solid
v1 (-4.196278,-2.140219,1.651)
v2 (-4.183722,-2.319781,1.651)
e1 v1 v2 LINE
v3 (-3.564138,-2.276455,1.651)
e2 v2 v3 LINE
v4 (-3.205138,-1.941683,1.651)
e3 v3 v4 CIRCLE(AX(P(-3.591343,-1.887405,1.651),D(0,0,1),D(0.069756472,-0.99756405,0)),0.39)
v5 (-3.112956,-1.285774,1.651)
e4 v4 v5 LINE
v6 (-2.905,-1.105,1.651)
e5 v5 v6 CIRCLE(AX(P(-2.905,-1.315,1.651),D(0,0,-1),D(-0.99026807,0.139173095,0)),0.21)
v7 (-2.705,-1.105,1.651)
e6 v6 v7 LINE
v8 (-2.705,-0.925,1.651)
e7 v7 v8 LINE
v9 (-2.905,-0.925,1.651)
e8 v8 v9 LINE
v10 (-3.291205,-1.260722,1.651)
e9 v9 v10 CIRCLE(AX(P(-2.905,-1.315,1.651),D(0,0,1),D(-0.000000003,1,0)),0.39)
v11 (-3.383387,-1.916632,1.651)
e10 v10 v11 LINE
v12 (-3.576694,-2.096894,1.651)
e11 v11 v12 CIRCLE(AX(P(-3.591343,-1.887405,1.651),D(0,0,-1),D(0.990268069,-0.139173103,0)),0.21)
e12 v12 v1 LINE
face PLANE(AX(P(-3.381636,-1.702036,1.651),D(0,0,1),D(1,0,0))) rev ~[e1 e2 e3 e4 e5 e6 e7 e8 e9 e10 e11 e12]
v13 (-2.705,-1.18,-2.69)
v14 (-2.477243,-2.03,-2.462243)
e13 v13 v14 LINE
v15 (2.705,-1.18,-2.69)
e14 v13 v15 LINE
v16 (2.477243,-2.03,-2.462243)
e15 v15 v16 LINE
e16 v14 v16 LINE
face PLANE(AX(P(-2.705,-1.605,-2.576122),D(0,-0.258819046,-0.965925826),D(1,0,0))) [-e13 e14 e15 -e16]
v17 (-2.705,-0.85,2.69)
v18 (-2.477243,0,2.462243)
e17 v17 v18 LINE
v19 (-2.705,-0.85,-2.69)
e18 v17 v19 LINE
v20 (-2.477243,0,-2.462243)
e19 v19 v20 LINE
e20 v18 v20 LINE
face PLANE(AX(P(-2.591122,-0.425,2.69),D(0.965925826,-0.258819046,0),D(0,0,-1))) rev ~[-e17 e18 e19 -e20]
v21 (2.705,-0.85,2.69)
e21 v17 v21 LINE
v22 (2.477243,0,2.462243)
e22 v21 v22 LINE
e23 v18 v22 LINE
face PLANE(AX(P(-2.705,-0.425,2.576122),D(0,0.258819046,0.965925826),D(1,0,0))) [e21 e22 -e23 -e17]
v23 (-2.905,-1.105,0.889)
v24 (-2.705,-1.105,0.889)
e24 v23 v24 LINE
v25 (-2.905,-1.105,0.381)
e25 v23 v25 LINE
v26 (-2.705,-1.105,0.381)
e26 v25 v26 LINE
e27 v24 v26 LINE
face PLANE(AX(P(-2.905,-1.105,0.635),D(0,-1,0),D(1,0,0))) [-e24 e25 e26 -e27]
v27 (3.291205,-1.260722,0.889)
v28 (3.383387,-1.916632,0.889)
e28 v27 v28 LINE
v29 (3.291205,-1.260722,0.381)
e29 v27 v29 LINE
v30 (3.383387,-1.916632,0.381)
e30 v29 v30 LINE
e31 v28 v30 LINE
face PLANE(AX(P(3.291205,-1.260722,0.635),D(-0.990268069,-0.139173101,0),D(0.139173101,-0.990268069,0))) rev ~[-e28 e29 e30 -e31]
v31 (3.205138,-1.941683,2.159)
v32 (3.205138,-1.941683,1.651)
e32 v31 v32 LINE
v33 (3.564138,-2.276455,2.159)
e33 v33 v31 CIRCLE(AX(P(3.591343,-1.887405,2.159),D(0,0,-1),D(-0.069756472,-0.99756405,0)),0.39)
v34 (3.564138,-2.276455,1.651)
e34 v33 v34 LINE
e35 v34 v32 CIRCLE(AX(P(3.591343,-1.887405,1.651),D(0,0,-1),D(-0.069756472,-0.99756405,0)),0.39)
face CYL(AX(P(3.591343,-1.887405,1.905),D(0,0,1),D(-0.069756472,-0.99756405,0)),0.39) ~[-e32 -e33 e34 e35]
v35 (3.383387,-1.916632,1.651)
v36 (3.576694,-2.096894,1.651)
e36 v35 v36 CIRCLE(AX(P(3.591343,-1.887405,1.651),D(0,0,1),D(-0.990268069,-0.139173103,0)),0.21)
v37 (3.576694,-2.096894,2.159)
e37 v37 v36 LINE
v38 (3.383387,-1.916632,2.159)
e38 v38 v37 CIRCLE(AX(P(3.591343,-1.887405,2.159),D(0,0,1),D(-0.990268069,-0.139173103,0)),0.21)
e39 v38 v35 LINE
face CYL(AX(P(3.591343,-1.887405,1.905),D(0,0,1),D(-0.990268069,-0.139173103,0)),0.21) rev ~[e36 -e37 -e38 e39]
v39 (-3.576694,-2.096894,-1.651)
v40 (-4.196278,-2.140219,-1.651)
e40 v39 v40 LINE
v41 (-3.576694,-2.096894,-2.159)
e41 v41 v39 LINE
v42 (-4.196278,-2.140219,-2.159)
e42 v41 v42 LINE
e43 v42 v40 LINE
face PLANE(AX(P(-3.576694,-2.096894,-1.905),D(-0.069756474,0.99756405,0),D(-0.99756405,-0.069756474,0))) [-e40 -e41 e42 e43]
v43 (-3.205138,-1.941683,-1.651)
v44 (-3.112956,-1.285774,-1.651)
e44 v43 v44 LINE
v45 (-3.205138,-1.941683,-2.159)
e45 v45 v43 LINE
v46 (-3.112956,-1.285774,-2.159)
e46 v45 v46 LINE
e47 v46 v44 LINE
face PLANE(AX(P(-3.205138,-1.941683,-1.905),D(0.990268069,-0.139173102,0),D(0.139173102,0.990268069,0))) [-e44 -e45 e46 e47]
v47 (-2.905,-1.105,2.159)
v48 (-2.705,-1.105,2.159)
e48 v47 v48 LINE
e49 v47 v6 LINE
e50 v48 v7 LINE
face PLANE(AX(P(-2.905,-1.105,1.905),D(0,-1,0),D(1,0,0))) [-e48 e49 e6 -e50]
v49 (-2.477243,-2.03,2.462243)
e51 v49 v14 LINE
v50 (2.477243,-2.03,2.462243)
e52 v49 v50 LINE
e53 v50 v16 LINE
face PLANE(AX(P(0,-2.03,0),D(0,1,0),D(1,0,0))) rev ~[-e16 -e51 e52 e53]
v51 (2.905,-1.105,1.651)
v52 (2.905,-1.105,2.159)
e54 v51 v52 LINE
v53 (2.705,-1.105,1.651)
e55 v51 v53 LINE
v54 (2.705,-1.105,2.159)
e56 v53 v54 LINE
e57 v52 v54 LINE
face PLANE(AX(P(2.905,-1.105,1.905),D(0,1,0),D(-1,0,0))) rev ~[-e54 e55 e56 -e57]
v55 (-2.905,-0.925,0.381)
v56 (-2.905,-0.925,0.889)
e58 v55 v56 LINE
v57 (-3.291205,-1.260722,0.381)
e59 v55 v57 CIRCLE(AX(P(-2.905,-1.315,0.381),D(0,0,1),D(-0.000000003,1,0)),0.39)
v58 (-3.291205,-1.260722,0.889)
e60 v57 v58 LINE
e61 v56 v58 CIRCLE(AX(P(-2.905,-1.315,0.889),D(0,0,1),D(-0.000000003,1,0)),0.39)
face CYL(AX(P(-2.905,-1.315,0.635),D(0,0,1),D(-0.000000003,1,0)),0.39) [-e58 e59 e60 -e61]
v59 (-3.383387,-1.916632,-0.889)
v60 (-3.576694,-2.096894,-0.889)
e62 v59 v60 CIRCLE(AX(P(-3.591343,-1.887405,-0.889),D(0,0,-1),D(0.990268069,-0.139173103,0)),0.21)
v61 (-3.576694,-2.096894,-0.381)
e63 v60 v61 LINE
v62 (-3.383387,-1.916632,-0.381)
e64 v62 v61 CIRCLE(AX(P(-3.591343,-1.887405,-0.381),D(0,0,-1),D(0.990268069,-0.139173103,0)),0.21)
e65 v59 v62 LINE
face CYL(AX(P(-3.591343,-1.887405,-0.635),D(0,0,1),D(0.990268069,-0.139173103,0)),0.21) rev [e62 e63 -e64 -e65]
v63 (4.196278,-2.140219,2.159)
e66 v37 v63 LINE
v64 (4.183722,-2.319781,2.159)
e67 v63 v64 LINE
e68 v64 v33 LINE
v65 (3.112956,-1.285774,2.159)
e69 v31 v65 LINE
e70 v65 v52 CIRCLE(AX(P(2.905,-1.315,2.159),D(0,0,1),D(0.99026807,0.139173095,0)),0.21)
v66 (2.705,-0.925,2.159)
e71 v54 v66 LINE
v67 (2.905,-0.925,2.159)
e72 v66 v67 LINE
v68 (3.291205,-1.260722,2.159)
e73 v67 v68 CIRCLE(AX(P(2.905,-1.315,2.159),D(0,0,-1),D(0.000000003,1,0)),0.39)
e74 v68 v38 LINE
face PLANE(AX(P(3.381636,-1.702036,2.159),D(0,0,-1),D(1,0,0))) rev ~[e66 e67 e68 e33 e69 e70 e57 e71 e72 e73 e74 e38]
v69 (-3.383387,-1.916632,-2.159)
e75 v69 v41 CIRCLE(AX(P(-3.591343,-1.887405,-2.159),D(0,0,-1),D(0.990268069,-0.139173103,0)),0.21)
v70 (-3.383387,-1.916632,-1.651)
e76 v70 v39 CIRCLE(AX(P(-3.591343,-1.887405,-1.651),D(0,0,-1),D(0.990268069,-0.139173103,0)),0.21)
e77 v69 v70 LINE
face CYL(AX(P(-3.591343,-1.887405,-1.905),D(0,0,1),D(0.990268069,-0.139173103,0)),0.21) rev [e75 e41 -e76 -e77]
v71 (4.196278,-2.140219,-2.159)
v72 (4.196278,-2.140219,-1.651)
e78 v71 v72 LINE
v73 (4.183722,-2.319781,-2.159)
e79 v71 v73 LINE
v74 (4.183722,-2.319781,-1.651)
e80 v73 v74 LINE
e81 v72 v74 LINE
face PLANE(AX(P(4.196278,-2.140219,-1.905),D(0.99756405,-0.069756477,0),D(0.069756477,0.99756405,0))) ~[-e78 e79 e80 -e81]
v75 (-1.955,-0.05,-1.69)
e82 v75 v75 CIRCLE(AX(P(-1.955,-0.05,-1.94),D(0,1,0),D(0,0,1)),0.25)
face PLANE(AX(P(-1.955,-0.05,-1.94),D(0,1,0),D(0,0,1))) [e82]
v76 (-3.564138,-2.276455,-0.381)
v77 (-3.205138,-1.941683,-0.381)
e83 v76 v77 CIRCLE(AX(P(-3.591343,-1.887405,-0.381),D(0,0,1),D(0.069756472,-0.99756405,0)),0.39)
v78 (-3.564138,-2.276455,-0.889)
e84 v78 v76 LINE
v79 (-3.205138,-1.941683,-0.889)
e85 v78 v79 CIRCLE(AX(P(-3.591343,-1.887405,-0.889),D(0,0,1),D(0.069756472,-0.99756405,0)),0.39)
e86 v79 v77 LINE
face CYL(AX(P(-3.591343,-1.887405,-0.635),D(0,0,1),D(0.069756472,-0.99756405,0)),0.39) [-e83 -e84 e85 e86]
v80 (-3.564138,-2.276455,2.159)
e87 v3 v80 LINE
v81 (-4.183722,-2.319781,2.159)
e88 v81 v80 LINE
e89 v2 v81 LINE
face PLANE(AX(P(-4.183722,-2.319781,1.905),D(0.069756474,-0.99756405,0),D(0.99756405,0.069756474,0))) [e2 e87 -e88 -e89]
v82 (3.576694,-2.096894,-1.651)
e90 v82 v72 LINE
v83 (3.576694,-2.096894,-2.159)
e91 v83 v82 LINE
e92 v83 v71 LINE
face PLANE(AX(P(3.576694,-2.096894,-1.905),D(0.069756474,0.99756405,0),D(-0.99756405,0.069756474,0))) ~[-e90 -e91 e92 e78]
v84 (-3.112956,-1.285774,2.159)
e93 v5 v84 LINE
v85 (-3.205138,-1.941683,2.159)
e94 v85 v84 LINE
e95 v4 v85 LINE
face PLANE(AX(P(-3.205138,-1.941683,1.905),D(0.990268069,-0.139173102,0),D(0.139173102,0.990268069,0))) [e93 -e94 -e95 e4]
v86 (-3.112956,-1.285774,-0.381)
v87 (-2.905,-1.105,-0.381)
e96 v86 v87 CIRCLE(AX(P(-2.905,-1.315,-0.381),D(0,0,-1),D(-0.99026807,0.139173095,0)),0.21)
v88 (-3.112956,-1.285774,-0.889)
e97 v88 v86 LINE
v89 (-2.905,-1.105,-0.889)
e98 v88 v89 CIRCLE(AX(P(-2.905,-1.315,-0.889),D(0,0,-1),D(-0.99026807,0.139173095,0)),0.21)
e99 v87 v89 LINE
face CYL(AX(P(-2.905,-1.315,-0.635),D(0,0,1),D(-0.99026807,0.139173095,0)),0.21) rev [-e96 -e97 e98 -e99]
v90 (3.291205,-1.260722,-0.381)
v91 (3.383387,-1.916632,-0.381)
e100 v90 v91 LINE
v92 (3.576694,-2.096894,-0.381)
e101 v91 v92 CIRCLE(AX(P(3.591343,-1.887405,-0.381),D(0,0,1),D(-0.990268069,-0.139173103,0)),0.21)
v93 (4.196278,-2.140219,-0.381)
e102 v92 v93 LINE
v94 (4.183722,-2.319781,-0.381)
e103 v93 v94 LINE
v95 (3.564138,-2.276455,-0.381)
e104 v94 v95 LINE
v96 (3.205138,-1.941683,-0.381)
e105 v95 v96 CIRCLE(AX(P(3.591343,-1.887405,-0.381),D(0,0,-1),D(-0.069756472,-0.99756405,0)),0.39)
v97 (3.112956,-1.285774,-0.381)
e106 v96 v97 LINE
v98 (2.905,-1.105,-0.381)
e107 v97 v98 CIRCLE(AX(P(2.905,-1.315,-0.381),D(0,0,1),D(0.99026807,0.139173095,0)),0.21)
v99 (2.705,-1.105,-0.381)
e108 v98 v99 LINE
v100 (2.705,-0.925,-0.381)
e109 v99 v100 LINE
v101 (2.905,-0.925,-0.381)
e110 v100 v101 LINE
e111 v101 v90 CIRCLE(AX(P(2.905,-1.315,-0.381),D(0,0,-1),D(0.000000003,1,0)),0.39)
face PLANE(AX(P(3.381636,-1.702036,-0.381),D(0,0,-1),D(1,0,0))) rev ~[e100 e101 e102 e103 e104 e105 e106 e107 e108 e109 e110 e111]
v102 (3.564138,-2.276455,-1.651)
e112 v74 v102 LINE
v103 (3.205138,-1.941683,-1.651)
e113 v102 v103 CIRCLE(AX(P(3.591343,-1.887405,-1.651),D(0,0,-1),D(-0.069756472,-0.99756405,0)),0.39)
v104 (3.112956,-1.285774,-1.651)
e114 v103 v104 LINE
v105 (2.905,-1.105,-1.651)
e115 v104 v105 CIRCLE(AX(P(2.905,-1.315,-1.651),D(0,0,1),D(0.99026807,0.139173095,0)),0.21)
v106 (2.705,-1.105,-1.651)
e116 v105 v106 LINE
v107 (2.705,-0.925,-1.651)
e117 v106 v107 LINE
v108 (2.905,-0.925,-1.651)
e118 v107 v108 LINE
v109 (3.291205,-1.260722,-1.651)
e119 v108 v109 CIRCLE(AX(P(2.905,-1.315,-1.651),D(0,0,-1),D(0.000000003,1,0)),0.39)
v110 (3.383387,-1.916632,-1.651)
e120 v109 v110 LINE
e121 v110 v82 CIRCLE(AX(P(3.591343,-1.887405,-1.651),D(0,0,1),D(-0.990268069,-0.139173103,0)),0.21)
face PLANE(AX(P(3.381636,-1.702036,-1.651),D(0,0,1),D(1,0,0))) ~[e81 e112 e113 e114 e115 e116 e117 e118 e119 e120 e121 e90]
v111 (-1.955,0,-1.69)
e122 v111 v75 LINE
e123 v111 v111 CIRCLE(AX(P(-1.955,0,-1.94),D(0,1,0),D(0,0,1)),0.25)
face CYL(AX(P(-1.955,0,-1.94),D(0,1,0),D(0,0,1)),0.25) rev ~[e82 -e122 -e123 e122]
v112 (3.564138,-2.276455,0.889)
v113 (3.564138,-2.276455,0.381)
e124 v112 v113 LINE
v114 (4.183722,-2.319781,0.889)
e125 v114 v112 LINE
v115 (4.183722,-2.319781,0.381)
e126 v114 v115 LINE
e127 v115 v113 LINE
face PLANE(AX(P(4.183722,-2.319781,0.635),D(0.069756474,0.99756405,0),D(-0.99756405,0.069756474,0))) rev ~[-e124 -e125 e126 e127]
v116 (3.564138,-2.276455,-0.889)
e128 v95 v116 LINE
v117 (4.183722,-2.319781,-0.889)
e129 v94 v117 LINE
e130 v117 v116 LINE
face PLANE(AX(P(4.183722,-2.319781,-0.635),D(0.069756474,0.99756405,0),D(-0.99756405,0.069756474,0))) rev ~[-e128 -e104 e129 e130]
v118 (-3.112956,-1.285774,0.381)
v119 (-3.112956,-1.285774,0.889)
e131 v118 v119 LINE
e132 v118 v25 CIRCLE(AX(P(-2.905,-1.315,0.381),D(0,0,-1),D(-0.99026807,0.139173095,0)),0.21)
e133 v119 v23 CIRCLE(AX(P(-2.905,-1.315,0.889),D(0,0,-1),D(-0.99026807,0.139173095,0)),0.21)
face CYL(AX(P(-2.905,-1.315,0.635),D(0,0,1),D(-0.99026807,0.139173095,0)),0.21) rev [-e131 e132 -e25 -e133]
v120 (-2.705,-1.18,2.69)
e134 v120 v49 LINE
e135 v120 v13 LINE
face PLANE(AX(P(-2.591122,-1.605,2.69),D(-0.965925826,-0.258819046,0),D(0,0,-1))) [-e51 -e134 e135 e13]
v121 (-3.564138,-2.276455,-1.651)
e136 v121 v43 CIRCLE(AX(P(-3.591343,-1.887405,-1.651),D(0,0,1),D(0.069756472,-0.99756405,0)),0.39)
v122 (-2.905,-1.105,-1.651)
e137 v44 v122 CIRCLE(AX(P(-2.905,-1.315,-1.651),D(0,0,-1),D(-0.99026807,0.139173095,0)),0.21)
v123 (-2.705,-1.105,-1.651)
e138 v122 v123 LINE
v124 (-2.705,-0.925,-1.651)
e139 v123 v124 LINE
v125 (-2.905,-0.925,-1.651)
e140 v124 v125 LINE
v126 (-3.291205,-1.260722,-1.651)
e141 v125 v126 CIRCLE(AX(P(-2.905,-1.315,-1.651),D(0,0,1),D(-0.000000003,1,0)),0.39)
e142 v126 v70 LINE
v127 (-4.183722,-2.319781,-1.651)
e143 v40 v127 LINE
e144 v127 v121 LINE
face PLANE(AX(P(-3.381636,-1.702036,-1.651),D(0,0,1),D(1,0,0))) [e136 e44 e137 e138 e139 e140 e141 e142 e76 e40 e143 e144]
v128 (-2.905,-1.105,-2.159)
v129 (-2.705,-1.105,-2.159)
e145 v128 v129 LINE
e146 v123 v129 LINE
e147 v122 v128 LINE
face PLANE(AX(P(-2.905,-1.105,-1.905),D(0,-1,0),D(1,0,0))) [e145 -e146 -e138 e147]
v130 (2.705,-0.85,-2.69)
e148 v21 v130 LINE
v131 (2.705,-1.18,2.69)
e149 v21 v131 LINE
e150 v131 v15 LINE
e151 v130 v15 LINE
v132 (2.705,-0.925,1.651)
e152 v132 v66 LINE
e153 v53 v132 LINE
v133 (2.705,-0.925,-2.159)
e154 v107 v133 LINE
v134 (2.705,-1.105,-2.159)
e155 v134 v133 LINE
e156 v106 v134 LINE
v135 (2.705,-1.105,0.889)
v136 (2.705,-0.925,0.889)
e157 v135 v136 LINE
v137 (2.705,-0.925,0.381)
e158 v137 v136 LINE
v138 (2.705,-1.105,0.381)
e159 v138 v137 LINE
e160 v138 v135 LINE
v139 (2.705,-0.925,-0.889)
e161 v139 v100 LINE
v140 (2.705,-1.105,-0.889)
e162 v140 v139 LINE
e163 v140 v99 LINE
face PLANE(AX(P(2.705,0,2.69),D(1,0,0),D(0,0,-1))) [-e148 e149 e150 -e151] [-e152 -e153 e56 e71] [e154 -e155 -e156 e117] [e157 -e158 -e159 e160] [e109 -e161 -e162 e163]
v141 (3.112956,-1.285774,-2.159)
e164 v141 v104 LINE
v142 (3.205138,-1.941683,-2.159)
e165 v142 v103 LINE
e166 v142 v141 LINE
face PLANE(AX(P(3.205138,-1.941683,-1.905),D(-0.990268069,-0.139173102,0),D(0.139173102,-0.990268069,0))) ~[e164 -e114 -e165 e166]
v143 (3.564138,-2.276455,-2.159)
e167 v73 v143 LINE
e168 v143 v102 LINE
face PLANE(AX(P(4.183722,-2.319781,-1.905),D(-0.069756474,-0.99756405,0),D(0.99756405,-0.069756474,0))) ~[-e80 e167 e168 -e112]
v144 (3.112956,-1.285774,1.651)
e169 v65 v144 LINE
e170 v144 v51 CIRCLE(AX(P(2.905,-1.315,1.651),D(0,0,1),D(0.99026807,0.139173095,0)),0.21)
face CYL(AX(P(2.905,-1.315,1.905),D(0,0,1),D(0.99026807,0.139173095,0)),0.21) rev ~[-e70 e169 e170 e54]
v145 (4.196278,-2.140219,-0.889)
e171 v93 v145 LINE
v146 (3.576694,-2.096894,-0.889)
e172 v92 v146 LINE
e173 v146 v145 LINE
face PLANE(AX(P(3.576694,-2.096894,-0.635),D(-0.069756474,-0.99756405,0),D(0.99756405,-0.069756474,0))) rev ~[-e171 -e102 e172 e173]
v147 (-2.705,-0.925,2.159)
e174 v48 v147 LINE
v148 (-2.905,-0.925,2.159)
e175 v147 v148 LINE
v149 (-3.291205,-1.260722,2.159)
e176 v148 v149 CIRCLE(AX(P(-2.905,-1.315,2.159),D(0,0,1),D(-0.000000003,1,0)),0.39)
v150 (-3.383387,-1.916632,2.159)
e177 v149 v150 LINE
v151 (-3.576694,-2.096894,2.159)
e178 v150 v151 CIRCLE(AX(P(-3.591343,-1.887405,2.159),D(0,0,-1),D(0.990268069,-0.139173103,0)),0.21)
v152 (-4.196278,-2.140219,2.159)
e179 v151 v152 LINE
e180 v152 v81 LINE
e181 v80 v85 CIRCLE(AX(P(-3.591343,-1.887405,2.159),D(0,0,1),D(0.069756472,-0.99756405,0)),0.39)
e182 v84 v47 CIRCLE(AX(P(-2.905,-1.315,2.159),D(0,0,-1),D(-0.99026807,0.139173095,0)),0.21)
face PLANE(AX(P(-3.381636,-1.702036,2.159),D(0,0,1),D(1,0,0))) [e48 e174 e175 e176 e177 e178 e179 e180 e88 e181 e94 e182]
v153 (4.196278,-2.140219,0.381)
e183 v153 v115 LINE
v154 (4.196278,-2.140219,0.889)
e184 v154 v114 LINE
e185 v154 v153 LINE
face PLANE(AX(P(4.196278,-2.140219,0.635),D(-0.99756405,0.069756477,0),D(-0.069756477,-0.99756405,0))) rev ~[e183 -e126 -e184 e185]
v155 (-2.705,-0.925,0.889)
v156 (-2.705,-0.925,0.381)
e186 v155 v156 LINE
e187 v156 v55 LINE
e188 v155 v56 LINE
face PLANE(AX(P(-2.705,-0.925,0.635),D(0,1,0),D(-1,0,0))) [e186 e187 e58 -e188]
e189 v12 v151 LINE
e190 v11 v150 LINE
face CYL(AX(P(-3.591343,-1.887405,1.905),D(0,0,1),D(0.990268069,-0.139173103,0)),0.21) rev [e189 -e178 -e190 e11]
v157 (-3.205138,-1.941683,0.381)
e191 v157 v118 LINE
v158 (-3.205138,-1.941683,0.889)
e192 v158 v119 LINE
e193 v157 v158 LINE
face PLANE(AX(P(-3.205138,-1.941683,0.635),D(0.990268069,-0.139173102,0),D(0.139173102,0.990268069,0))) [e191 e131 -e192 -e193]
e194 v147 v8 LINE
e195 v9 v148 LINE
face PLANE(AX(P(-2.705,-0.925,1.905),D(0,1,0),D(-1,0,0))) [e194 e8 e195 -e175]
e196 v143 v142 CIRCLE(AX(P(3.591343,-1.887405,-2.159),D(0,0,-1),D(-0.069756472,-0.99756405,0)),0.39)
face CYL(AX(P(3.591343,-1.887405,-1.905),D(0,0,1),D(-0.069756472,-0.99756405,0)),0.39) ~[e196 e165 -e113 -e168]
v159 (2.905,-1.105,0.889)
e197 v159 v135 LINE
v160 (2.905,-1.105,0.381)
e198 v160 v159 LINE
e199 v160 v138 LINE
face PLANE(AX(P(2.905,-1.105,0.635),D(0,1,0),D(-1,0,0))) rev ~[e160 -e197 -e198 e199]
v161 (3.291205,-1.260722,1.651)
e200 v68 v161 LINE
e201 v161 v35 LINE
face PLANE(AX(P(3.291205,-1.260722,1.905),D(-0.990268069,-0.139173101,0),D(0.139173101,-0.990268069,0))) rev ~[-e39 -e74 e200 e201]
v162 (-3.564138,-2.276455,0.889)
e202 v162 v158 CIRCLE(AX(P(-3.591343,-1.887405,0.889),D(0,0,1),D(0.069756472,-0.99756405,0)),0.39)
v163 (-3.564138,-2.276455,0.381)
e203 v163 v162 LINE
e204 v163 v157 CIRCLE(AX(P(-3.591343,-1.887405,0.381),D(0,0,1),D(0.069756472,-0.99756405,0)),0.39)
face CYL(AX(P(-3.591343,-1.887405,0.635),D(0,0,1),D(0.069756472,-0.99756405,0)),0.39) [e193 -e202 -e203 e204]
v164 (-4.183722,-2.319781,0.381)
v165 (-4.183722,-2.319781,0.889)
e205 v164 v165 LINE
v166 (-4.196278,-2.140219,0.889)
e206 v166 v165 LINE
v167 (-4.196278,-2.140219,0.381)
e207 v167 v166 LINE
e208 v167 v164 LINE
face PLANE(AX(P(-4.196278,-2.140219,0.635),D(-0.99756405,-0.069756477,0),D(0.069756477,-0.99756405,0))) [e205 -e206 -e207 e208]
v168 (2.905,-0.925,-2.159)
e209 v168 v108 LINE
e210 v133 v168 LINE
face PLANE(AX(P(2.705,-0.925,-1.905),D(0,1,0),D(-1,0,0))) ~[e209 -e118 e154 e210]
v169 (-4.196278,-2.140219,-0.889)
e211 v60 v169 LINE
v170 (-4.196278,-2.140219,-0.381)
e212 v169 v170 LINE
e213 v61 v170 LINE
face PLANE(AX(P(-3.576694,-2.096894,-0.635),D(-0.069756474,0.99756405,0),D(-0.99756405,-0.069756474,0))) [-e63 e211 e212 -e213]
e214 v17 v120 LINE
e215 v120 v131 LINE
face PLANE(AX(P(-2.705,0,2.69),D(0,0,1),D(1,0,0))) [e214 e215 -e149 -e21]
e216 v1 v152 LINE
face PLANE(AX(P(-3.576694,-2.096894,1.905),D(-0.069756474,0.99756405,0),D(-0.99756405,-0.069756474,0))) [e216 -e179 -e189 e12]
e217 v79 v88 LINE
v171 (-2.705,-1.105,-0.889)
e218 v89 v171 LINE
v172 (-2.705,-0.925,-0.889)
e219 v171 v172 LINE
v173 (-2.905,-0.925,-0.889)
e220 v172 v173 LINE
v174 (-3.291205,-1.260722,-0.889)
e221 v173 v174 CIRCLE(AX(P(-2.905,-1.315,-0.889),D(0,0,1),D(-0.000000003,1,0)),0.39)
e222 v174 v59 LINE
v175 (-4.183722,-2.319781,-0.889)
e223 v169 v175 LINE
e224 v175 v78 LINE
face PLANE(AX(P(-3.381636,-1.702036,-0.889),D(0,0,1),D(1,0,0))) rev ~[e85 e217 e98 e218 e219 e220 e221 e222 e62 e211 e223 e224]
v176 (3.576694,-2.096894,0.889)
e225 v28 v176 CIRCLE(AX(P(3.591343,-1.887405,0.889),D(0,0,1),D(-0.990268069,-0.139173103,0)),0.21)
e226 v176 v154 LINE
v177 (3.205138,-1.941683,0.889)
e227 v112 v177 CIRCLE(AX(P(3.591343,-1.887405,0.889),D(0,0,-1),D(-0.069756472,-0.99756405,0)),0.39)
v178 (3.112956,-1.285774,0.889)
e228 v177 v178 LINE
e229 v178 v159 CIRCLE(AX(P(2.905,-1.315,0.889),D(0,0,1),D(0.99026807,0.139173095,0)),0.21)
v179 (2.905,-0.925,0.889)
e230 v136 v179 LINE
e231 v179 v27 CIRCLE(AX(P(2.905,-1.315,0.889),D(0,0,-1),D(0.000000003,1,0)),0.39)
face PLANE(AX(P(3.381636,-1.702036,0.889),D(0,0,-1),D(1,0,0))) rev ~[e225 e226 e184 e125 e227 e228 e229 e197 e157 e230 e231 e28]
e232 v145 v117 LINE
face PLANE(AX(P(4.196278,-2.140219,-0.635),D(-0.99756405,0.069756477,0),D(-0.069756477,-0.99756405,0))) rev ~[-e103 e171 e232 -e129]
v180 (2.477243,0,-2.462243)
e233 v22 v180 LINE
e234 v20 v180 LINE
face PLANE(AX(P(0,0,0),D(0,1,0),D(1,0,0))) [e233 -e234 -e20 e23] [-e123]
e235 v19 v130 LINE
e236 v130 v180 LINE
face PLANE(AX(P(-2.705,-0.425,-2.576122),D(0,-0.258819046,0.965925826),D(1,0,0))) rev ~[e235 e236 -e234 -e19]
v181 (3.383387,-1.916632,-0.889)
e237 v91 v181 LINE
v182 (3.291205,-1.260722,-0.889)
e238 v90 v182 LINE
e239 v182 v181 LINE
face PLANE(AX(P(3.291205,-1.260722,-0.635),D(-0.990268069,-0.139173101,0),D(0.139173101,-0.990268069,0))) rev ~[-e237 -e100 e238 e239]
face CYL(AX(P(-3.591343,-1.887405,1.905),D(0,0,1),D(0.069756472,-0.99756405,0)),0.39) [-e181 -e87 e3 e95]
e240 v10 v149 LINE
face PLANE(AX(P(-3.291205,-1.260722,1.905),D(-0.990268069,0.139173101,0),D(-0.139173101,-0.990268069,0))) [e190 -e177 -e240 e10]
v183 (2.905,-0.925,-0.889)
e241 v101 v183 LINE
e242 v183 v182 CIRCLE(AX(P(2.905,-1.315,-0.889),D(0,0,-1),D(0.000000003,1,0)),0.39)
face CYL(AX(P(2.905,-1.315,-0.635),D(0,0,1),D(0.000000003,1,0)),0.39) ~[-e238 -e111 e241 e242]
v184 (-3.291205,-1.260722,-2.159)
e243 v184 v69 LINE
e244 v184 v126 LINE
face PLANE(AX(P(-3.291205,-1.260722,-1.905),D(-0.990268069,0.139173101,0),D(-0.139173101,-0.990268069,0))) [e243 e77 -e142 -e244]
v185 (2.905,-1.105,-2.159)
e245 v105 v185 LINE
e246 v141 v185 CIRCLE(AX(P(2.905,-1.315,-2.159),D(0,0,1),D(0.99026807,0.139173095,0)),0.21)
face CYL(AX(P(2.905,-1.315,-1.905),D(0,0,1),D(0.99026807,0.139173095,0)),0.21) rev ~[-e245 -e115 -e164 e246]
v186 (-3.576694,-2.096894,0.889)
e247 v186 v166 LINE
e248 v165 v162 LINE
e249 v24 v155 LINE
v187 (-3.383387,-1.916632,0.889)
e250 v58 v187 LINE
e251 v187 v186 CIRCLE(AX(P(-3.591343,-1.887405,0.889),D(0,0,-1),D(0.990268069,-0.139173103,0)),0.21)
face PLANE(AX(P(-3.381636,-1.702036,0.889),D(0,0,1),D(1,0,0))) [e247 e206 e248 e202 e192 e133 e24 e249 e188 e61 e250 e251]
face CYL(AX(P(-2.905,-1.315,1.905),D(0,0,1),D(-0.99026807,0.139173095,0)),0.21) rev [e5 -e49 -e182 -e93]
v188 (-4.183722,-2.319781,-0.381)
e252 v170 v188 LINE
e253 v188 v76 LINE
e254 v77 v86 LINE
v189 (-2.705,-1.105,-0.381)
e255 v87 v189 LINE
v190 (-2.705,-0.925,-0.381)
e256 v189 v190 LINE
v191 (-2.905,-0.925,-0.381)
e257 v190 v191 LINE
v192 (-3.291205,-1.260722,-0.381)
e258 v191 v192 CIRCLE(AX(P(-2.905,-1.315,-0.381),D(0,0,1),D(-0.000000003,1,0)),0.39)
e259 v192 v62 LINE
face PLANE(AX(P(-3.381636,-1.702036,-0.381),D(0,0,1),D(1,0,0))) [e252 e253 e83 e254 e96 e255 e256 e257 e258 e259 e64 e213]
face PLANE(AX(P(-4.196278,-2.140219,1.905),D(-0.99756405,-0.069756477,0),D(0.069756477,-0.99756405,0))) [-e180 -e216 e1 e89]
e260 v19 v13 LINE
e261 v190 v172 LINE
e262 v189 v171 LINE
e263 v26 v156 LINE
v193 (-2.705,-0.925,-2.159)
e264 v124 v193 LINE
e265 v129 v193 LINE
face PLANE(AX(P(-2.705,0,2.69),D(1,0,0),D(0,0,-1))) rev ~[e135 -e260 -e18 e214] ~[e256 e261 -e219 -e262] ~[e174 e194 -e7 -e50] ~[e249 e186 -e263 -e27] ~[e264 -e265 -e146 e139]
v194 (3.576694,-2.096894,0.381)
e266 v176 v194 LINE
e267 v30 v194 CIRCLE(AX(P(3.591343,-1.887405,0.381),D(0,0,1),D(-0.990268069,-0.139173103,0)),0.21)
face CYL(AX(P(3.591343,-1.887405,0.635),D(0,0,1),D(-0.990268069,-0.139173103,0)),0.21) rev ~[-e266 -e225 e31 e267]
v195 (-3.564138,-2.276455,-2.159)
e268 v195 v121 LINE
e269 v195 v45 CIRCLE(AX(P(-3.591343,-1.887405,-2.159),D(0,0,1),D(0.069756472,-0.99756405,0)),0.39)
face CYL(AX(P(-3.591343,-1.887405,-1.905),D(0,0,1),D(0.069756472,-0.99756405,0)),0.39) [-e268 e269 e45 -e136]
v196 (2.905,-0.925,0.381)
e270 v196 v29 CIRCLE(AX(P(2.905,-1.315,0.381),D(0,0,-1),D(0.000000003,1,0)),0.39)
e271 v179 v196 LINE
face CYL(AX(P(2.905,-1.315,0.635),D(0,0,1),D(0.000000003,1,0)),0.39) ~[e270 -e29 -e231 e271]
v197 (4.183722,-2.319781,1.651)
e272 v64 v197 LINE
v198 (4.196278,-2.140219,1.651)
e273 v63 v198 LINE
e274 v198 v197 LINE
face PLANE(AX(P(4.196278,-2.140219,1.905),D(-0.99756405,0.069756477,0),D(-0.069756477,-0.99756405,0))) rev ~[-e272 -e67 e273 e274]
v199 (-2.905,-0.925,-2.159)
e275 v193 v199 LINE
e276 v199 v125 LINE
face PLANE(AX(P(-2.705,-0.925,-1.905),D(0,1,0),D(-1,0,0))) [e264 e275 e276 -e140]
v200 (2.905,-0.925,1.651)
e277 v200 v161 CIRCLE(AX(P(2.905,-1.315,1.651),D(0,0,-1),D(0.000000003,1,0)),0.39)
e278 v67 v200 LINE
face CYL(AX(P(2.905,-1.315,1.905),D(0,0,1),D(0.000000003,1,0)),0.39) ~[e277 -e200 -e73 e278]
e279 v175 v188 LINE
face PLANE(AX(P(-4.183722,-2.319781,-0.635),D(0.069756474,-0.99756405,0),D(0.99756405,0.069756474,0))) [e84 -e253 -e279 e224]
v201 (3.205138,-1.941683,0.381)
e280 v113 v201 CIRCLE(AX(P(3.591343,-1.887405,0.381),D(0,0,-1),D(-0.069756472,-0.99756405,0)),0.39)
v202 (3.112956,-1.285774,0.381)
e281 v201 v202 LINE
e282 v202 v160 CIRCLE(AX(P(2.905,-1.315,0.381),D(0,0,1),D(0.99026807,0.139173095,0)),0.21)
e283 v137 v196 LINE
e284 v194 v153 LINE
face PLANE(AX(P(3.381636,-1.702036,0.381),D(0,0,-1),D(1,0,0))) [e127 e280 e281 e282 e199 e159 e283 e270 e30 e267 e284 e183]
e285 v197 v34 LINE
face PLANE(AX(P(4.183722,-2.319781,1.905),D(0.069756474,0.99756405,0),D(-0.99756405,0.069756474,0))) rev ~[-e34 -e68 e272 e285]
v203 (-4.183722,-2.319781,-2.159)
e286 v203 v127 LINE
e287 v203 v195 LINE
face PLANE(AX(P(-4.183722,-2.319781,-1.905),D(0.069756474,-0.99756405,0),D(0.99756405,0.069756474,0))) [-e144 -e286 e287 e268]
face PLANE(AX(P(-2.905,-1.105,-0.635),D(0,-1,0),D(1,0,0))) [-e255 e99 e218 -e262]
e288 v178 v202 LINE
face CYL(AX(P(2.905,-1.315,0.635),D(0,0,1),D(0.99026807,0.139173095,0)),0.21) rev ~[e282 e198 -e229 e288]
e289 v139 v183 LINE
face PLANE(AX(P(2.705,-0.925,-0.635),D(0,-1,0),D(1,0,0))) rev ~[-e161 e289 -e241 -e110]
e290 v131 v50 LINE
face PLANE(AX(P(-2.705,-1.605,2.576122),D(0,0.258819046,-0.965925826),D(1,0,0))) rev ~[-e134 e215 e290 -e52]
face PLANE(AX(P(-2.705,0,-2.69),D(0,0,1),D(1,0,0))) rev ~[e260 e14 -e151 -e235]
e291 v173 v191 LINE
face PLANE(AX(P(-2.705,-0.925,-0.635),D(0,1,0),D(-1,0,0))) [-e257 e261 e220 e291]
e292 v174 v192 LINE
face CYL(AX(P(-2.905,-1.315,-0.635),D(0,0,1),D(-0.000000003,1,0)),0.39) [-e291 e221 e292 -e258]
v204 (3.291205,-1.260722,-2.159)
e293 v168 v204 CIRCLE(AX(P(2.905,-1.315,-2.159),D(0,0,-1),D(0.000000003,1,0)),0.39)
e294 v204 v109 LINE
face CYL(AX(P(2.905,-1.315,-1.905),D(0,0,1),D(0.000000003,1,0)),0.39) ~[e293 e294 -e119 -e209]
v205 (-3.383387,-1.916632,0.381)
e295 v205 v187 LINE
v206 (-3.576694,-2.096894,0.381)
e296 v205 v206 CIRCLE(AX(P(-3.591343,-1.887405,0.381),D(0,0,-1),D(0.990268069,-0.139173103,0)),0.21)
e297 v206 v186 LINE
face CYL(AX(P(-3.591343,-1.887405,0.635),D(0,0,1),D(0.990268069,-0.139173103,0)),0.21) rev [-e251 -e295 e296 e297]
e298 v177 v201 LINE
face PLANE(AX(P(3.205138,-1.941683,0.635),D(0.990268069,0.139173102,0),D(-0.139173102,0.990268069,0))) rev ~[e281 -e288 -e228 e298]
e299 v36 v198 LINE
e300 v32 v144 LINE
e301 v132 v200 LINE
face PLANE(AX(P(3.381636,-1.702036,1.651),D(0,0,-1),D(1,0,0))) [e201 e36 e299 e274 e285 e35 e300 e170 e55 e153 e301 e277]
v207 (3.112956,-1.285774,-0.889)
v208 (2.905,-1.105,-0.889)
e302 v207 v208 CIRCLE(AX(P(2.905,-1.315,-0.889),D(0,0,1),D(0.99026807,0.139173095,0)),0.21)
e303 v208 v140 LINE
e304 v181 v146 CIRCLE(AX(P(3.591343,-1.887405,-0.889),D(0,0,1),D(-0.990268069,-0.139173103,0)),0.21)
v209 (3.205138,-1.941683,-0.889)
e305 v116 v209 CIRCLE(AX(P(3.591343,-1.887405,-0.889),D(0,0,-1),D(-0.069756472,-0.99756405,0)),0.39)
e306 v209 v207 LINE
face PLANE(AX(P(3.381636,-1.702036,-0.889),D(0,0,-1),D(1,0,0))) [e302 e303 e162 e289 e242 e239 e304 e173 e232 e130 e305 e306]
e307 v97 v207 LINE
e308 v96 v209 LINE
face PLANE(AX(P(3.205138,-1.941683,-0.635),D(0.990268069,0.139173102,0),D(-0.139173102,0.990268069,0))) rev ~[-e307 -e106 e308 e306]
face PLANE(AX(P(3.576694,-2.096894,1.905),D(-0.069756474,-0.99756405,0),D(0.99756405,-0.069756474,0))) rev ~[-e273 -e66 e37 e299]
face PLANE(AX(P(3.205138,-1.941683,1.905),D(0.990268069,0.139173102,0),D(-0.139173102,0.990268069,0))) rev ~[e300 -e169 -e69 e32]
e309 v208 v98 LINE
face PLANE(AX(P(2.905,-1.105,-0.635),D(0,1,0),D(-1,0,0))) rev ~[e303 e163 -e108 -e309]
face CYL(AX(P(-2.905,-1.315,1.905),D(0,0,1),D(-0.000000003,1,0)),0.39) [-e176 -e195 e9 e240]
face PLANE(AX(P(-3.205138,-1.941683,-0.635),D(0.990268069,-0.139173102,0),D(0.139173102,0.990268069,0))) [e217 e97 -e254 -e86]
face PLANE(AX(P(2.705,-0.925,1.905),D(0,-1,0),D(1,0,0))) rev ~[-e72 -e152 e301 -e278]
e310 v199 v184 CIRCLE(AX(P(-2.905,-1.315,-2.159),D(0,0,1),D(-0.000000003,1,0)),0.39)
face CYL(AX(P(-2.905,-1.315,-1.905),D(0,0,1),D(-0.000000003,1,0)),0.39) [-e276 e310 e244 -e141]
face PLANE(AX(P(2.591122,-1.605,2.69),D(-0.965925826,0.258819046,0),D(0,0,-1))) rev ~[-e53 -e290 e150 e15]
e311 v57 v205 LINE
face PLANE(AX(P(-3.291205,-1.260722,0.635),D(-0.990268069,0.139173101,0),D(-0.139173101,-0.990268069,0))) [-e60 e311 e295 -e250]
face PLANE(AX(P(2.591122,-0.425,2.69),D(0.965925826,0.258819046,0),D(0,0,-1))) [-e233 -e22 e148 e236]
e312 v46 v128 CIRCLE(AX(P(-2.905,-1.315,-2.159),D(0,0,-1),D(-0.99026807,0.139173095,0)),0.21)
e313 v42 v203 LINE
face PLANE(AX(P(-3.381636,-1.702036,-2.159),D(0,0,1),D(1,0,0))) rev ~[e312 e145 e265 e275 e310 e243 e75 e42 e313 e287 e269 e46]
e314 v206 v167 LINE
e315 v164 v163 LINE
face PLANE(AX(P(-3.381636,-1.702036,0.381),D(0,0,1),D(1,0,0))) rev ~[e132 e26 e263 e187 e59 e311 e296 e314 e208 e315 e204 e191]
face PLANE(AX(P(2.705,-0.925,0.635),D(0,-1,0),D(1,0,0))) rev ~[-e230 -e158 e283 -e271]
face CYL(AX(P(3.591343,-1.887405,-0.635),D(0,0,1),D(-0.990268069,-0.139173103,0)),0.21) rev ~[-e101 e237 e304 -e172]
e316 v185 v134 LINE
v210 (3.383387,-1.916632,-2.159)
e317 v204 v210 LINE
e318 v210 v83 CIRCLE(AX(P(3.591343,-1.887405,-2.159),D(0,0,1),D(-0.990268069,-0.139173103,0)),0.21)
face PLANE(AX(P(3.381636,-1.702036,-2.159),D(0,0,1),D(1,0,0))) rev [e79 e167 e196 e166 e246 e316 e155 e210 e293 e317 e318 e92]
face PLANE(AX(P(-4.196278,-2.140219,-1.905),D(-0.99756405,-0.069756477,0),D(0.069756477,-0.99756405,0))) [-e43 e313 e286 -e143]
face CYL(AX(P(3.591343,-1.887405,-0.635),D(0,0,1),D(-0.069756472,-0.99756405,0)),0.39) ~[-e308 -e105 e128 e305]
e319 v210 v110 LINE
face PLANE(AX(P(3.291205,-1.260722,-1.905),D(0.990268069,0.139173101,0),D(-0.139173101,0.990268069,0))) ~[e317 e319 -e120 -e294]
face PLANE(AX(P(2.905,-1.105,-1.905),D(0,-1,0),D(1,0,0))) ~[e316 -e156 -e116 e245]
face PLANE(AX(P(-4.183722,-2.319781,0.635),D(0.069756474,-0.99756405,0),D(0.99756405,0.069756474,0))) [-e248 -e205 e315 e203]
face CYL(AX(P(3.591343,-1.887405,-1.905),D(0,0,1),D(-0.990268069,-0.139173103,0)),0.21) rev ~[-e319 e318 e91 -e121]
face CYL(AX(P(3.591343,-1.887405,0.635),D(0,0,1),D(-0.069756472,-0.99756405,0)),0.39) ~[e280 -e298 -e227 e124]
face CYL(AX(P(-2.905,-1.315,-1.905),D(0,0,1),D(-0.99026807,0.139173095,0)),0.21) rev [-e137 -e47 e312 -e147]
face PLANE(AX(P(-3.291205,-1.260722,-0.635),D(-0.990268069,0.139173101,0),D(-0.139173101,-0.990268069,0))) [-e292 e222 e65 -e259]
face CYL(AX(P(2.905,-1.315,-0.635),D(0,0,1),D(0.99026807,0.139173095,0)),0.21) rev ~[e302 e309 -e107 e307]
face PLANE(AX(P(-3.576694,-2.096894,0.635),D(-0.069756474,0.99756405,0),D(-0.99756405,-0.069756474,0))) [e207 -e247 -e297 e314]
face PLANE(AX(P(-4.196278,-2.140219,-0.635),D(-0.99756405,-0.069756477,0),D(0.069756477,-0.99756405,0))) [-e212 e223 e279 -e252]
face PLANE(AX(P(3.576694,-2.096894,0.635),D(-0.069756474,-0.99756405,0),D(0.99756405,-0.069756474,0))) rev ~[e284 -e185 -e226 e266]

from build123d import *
from OCP.BRepFilletAPI import BRepFilletAPI_MakeChamfer

# Parameters (mm, degrees)
SKETCH1_W              = 5.41
SKETCH1_H              = 5.38
BASE_EXTRUDE_DEPTH     = 2.03
PIN_1_DEPTH            = 0.254
LPATTERN1_COUNT        = 4
LPATTERN1_PITCH        = 1.27
LPATTERN1_COPY_1_DEPTH = 0.254
LPATTERN1_COPY_2_DEPTH = 0.254
LPATTERN1_COPY_3_DEPTH = 0.254
TOP_CHAMFER_SIZE       = 0.85
TOP_CHAMFER_SIZE2      = 0.227756814
BOTTOM_CHAMFER_SIZE    = 0.85
BOTTOM_CHAMFER_SIZE2   = 0.227756814
SKETCH3_R              = 0.25
PIN1_HOL_DEPTH         = 0.05


with BuildPart() as part:
    # Sketch1 → Base-Extrude (new body)
    with BuildSketch(Plane(origin=(0, 0, 0), x_dir=(1, 0, 0), z_dir=(0, 1, 0))):
        Rectangle(SKETCH1_W, SKETCH1_H)
    extrude(amount=-BASE_EXTRUDE_DEPTH)

    # Sketch2 → PIN 1 (add, symmetric)
    with BuildSketch(Plane.XY.offset(-1.905)):
        with BuildLine():
            Line((-2.705, -0.925), (-2.905, -0.925))
            ThreePointArc((-2.905, -0.925), (-3.160863021, -1.020663264), (-3.291204547, -1.260722491))
            Line((-3.291204547, -1.260722491), (-3.38338656, -1.916631596))
            ThreePointArc((-3.38338656, -1.916631596), (-3.448123199, -2.040989522), (-3.576693995, -2.096893695))
            Line((-3.576693995, -2.096893695), (-4.196278083, -2.140219235))
            Line((-4.196278083, -2.140219235), (-4.183721917, -2.319780765))
            Line((-4.183721917, -2.319780765), (-3.56413783, -2.276455225))
            ThreePointArc((-3.56413783, -2.276455225), (-3.325363494, -2.172633189), (-3.205138308, -1.941682754))
            Line((-3.205138308, -1.941682754), (-3.112956294, -1.285773649))
            ThreePointArc((-3.112956294, -1.285773649), (-3.042772396, -1.156510988), (-2.905, -1.105))
            Line((-2.905, -1.105), (-2.705, -1.105))
            Line((-2.705, -1.105), (-2.705, -0.925))
        make_face()
    pin_1 = extrude(amount=PIN_1_DEPTH, both=True)

    # PIN 8: PIN 1 across plane
    add(pin_1.mirror(Plane(origin=(0, 0, 0), x_dir=(0, 0, 1), z_dir=(1, 0, 0))))

    # LPattern1: PIN 1 ×4
    with Locations(*[(0, 0, i * LPATTERN1_PITCH) for i in range(1, LPATTERN1_COUNT)]):
        add(pin_1)

    # LPattern1 copy 1 sketch → LPattern1 copy 1 (add, symmetric)
    with BuildSketch(Plane(origin=(0, 0, -0.635), x_dir=(-1, 0, 0), z_dir=(0, 0, 1))):
        with BuildLine():
            Line((-2.705, 0.925), (-2.905, 0.925))
            ThreePointArc((-2.905, 0.925), (-3.160863021, 1.020663264), (-3.291204547, 1.260722491))
            Line((-3.291204547, 1.260722491), (-3.38338656, 1.916631596))
            ThreePointArc((-3.38338656, 1.916631596), (-3.448123199, 2.040989522), (-3.576693995, 2.096893695))
            Line((-3.576693995, 2.096893695), (-4.196278083, 2.140219235))
            Line((-4.196278083, 2.140219235), (-4.183721917, 2.319780765))
            Line((-4.183721917, 2.319780765), (-3.56413783, 2.276455225))
            ThreePointArc((-3.56413783, 2.276455225), (-3.325363494, 2.172633189), (-3.205138308, 1.941682754))
            Line((-3.205138308, 1.941682754), (-3.112956294, 1.285773649))
            ThreePointArc((-3.112956294, 1.285773649), (-3.042772396, 1.156510988), (-2.905, 1.105))
            Line((-2.905, 1.105), (-2.705, 1.105))
            Line((-2.705, 1.105), (-2.705, 0.925))
        make_face()
    extrude(amount=LPATTERN1_COPY_1_DEPTH, both=True)

    # LPattern1 copy 2 sketch → LPattern1 copy 2 (add, symmetric)
    with BuildSketch(Plane(origin=(0, 0, 0.635), x_dir=(-1, 0, 0), z_dir=(0, 0, 1))):
        with BuildLine():
            Line((-2.705, 0.925), (-2.905, 0.925))
            ThreePointArc((-2.905, 0.925), (-3.160863021, 1.020663264), (-3.291204547, 1.260722491))
            Line((-3.291204547, 1.260722491), (-3.38338656, 1.916631596))
            ThreePointArc((-3.38338656, 1.916631596), (-3.448123199, 2.040989522), (-3.576693995, 2.096893695))
            Line((-3.576693995, 2.096893695), (-4.196278083, 2.140219235))
            Line((-4.196278083, 2.140219235), (-4.183721917, 2.319780765))
            Line((-4.183721917, 2.319780765), (-3.56413783, 2.276455225))
            ThreePointArc((-3.56413783, 2.276455225), (-3.325363494, 2.172633189), (-3.205138308, 1.941682754))
            Line((-3.205138308, 1.941682754), (-3.112956294, 1.285773649))
            ThreePointArc((-3.112956294, 1.285773649), (-3.042772396, 1.156510988), (-2.905, 1.105))
            Line((-2.905, 1.105), (-2.705, 1.105))
            Line((-2.705, 1.105), (-2.705, 0.925))
        make_face()
    extrude(amount=LPATTERN1_COPY_2_DEPTH, both=True)

    # LPattern1 copy 3 sketch → LPattern1 copy 3 (add, symmetric)
    with BuildSketch(Plane(origin=(0, 0, 1.905), x_dir=(-1, 0, 0), z_dir=(0, 0, 1))):
        with BuildLine():
            Line((-2.705, 0.925), (-2.905, 0.925))
            ThreePointArc((-2.905, 0.925), (-3.160863021, 1.020663264), (-3.291204547, 1.260722491))
            Line((-3.291204547, 1.260722491), (-3.38338656, 1.916631596))
            ThreePointArc((-3.38338656, 1.916631596), (-3.448123199, 2.040989522), (-3.576693995, 2.096893695))
            Line((-3.576693995, 2.096893695), (-4.196278083, 2.140219235))
            Line((-4.196278083, 2.140219235), (-4.183721917, 2.319780765))
            Line((-4.183721917, 2.319780765), (-3.56413783, 2.276455225))
            ThreePointArc((-3.56413783, 2.276455225), (-3.325363494, 2.172633189), (-3.205138308, 1.941682754))
            Line((-3.205138308, 1.941682754), (-3.112956294, 1.285773649))
            ThreePointArc((-3.112956294, 1.285773649), (-3.042772396, 1.156510988), (-2.905, 1.105))
            Line((-2.905, 1.105), (-2.705, 1.105))
            Line((-2.705, 1.105), (-2.705, 0.925))
        make_face()
    extrude(amount=LPATTERN1_COPY_3_DEPTH, both=True)

    # TOP CHAMFER: one chamfer whose edges measure the first distance from different faces: ONE call of the kernel's chamfer builder (chamfer() names one face for all edges)
    top_chamfer_edges_1 = [part.edges().sort_by_distance(p)[0] for p in [
        (0, 0, -2.69),
    ]]
    top_chamfer_side_1 = [part.faces().sort_by_distance(p)[0] for p in [
        (0, -1.015, -2.69),
    ]]
    top_chamfer_edges_2 = [part.edges().sort_by_distance(p)[0] for p in [
        (2.705, 0, 0),
    ]]
    top_chamfer_side_2 = [part.faces().sort_by_distance(p)[0] for p in [
        (2.705, -1.015, 0),
    ]]
    top_chamfer_edges_3 = [part.edges().sort_by_distance(p)[0] for p in [
        (0, 0, 2.69),
    ]]
    top_chamfer_side_3 = [part.faces().sort_by_distance(p)[0] for p in [
        (0, -1.015, 2.69),
    ]]
    top_chamfer_edges_4 = [part.edges().sort_by_distance(p)[0] for p in [
        (-2.705, 0, 0),
    ]]
    top_chamfer_side_4 = [part.faces().sort_by_distance(p)[0] for p in [
        (-2.705, -1.015, 0),
    ]]
    top_chamfer = BRepFilletAPI_MakeChamfer(part.part.solid().wrapped)
    for e in top_chamfer_edges_1:
        top_chamfer.Add(TOP_CHAMFER_SIZE, TOP_CHAMFER_SIZE2, e.wrapped, top_chamfer_side_1[0].wrapped)  # the first distance lies on this face
    for e in top_chamfer_edges_2:
        top_chamfer.Add(TOP_CHAMFER_SIZE, TOP_CHAMFER_SIZE2, e.wrapped, top_chamfer_side_2[0].wrapped)  # the first distance lies on this face
    for e in top_chamfer_edges_3:
        top_chamfer.Add(TOP_CHAMFER_SIZE, TOP_CHAMFER_SIZE2, e.wrapped, top_chamfer_side_3[0].wrapped)  # the first distance lies on this face
    for e in top_chamfer_edges_4:
        top_chamfer.Add(TOP_CHAMFER_SIZE, TOP_CHAMFER_SIZE2, e.wrapped, top_chamfer_side_4[0].wrapped)  # the first distance lies on this face
    add(Compound.cast(top_chamfer.Shape()), mode=Mode.REPLACE)

    # BOTTOM CHAMFER: one chamfer whose edges measure the first distance from different faces: ONE call of the kernel's chamfer builder (chamfer() names one face for all edges)
    bottom_chamfer_edges_1 = [part.edges().sort_by_distance(p)[0] for p in [
        (2.705, -2.03, 0),
    ]]
    bottom_chamfer_side_1 = [part.faces().sort_by_distance(p)[0] for p in [
        (2.705, -1.465983178, 0),
    ]]
    bottom_chamfer_edges_2 = [part.edges().sort_by_distance(p)[0] for p in [
        (0, -2.03, -2.69),
    ]]
    bottom_chamfer_side_2 = [part.faces().sort_by_distance(p)[0] for p in [
        (0, -1.44, -2.69),
    ]]
    bottom_chamfer_edges_3 = [part.edges().sort_by_distance(p)[0] for p in [
        (-2.705, -2.03, 0),
    ]]
    bottom_chamfer_side_3 = [part.faces().sort_by_distance(p)[0] for p in [
        (-2.705, -1.465983178, 0),
    ]]
    bottom_chamfer_edges_4 = [part.edges().sort_by_distance(p)[0] for p in [
        (0, -2.03, 2.69),
    ]]
    bottom_chamfer_side_4 = [part.faces().sort_by_distance(p)[0] for p in [
        (0, -1.44, 2.69),
    ]]
    bottom_chamfer = BRepFilletAPI_MakeChamfer(part.part.solid().wrapped)
    for e in bottom_chamfer_edges_1:
        bottom_chamfer.Add(BOTTOM_CHAMFER_SIZE, BOTTOM_CHAMFER_SIZE2, e.wrapped, bottom_chamfer_side_1[0].wrapped)  # the first distance lies on this face
    for e in bottom_chamfer_edges_2:
        bottom_chamfer.Add(BOTTOM_CHAMFER_SIZE, BOTTOM_CHAMFER_SIZE2, e.wrapped, bottom_chamfer_side_2[0].wrapped)  # the first distance lies on this face
    for e in bottom_chamfer_edges_3:
        bottom_chamfer.Add(BOTTOM_CHAMFER_SIZE, BOTTOM_CHAMFER_SIZE2, e.wrapped, bottom_chamfer_side_3[0].wrapped)  # the first distance lies on this face
    for e in bottom_chamfer_edges_4:
        bottom_chamfer.Add(BOTTOM_CHAMFER_SIZE, BOTTOM_CHAMFER_SIZE2, e.wrapped, bottom_chamfer_side_4[0].wrapped)  # the first distance lies on this face
    add(Compound.cast(bottom_chamfer.Shape()), mode=Mode.REPLACE)

    # Sketch3 → PIN1 HOL (cut)
    with BuildSketch(Plane(origin=(0, 0, 0), x_dir=(-1, 0, 0), z_dir=(0, 1, 0))):
        with Locations(Location((1.955, -1.94, 0), (0, 0, 90))):
            Circle(SKETCH3_R)
    extrude(amount=-PIN1_HOL_DEPTH, mode=Mode.SUBTRACT)


solid = part.part
